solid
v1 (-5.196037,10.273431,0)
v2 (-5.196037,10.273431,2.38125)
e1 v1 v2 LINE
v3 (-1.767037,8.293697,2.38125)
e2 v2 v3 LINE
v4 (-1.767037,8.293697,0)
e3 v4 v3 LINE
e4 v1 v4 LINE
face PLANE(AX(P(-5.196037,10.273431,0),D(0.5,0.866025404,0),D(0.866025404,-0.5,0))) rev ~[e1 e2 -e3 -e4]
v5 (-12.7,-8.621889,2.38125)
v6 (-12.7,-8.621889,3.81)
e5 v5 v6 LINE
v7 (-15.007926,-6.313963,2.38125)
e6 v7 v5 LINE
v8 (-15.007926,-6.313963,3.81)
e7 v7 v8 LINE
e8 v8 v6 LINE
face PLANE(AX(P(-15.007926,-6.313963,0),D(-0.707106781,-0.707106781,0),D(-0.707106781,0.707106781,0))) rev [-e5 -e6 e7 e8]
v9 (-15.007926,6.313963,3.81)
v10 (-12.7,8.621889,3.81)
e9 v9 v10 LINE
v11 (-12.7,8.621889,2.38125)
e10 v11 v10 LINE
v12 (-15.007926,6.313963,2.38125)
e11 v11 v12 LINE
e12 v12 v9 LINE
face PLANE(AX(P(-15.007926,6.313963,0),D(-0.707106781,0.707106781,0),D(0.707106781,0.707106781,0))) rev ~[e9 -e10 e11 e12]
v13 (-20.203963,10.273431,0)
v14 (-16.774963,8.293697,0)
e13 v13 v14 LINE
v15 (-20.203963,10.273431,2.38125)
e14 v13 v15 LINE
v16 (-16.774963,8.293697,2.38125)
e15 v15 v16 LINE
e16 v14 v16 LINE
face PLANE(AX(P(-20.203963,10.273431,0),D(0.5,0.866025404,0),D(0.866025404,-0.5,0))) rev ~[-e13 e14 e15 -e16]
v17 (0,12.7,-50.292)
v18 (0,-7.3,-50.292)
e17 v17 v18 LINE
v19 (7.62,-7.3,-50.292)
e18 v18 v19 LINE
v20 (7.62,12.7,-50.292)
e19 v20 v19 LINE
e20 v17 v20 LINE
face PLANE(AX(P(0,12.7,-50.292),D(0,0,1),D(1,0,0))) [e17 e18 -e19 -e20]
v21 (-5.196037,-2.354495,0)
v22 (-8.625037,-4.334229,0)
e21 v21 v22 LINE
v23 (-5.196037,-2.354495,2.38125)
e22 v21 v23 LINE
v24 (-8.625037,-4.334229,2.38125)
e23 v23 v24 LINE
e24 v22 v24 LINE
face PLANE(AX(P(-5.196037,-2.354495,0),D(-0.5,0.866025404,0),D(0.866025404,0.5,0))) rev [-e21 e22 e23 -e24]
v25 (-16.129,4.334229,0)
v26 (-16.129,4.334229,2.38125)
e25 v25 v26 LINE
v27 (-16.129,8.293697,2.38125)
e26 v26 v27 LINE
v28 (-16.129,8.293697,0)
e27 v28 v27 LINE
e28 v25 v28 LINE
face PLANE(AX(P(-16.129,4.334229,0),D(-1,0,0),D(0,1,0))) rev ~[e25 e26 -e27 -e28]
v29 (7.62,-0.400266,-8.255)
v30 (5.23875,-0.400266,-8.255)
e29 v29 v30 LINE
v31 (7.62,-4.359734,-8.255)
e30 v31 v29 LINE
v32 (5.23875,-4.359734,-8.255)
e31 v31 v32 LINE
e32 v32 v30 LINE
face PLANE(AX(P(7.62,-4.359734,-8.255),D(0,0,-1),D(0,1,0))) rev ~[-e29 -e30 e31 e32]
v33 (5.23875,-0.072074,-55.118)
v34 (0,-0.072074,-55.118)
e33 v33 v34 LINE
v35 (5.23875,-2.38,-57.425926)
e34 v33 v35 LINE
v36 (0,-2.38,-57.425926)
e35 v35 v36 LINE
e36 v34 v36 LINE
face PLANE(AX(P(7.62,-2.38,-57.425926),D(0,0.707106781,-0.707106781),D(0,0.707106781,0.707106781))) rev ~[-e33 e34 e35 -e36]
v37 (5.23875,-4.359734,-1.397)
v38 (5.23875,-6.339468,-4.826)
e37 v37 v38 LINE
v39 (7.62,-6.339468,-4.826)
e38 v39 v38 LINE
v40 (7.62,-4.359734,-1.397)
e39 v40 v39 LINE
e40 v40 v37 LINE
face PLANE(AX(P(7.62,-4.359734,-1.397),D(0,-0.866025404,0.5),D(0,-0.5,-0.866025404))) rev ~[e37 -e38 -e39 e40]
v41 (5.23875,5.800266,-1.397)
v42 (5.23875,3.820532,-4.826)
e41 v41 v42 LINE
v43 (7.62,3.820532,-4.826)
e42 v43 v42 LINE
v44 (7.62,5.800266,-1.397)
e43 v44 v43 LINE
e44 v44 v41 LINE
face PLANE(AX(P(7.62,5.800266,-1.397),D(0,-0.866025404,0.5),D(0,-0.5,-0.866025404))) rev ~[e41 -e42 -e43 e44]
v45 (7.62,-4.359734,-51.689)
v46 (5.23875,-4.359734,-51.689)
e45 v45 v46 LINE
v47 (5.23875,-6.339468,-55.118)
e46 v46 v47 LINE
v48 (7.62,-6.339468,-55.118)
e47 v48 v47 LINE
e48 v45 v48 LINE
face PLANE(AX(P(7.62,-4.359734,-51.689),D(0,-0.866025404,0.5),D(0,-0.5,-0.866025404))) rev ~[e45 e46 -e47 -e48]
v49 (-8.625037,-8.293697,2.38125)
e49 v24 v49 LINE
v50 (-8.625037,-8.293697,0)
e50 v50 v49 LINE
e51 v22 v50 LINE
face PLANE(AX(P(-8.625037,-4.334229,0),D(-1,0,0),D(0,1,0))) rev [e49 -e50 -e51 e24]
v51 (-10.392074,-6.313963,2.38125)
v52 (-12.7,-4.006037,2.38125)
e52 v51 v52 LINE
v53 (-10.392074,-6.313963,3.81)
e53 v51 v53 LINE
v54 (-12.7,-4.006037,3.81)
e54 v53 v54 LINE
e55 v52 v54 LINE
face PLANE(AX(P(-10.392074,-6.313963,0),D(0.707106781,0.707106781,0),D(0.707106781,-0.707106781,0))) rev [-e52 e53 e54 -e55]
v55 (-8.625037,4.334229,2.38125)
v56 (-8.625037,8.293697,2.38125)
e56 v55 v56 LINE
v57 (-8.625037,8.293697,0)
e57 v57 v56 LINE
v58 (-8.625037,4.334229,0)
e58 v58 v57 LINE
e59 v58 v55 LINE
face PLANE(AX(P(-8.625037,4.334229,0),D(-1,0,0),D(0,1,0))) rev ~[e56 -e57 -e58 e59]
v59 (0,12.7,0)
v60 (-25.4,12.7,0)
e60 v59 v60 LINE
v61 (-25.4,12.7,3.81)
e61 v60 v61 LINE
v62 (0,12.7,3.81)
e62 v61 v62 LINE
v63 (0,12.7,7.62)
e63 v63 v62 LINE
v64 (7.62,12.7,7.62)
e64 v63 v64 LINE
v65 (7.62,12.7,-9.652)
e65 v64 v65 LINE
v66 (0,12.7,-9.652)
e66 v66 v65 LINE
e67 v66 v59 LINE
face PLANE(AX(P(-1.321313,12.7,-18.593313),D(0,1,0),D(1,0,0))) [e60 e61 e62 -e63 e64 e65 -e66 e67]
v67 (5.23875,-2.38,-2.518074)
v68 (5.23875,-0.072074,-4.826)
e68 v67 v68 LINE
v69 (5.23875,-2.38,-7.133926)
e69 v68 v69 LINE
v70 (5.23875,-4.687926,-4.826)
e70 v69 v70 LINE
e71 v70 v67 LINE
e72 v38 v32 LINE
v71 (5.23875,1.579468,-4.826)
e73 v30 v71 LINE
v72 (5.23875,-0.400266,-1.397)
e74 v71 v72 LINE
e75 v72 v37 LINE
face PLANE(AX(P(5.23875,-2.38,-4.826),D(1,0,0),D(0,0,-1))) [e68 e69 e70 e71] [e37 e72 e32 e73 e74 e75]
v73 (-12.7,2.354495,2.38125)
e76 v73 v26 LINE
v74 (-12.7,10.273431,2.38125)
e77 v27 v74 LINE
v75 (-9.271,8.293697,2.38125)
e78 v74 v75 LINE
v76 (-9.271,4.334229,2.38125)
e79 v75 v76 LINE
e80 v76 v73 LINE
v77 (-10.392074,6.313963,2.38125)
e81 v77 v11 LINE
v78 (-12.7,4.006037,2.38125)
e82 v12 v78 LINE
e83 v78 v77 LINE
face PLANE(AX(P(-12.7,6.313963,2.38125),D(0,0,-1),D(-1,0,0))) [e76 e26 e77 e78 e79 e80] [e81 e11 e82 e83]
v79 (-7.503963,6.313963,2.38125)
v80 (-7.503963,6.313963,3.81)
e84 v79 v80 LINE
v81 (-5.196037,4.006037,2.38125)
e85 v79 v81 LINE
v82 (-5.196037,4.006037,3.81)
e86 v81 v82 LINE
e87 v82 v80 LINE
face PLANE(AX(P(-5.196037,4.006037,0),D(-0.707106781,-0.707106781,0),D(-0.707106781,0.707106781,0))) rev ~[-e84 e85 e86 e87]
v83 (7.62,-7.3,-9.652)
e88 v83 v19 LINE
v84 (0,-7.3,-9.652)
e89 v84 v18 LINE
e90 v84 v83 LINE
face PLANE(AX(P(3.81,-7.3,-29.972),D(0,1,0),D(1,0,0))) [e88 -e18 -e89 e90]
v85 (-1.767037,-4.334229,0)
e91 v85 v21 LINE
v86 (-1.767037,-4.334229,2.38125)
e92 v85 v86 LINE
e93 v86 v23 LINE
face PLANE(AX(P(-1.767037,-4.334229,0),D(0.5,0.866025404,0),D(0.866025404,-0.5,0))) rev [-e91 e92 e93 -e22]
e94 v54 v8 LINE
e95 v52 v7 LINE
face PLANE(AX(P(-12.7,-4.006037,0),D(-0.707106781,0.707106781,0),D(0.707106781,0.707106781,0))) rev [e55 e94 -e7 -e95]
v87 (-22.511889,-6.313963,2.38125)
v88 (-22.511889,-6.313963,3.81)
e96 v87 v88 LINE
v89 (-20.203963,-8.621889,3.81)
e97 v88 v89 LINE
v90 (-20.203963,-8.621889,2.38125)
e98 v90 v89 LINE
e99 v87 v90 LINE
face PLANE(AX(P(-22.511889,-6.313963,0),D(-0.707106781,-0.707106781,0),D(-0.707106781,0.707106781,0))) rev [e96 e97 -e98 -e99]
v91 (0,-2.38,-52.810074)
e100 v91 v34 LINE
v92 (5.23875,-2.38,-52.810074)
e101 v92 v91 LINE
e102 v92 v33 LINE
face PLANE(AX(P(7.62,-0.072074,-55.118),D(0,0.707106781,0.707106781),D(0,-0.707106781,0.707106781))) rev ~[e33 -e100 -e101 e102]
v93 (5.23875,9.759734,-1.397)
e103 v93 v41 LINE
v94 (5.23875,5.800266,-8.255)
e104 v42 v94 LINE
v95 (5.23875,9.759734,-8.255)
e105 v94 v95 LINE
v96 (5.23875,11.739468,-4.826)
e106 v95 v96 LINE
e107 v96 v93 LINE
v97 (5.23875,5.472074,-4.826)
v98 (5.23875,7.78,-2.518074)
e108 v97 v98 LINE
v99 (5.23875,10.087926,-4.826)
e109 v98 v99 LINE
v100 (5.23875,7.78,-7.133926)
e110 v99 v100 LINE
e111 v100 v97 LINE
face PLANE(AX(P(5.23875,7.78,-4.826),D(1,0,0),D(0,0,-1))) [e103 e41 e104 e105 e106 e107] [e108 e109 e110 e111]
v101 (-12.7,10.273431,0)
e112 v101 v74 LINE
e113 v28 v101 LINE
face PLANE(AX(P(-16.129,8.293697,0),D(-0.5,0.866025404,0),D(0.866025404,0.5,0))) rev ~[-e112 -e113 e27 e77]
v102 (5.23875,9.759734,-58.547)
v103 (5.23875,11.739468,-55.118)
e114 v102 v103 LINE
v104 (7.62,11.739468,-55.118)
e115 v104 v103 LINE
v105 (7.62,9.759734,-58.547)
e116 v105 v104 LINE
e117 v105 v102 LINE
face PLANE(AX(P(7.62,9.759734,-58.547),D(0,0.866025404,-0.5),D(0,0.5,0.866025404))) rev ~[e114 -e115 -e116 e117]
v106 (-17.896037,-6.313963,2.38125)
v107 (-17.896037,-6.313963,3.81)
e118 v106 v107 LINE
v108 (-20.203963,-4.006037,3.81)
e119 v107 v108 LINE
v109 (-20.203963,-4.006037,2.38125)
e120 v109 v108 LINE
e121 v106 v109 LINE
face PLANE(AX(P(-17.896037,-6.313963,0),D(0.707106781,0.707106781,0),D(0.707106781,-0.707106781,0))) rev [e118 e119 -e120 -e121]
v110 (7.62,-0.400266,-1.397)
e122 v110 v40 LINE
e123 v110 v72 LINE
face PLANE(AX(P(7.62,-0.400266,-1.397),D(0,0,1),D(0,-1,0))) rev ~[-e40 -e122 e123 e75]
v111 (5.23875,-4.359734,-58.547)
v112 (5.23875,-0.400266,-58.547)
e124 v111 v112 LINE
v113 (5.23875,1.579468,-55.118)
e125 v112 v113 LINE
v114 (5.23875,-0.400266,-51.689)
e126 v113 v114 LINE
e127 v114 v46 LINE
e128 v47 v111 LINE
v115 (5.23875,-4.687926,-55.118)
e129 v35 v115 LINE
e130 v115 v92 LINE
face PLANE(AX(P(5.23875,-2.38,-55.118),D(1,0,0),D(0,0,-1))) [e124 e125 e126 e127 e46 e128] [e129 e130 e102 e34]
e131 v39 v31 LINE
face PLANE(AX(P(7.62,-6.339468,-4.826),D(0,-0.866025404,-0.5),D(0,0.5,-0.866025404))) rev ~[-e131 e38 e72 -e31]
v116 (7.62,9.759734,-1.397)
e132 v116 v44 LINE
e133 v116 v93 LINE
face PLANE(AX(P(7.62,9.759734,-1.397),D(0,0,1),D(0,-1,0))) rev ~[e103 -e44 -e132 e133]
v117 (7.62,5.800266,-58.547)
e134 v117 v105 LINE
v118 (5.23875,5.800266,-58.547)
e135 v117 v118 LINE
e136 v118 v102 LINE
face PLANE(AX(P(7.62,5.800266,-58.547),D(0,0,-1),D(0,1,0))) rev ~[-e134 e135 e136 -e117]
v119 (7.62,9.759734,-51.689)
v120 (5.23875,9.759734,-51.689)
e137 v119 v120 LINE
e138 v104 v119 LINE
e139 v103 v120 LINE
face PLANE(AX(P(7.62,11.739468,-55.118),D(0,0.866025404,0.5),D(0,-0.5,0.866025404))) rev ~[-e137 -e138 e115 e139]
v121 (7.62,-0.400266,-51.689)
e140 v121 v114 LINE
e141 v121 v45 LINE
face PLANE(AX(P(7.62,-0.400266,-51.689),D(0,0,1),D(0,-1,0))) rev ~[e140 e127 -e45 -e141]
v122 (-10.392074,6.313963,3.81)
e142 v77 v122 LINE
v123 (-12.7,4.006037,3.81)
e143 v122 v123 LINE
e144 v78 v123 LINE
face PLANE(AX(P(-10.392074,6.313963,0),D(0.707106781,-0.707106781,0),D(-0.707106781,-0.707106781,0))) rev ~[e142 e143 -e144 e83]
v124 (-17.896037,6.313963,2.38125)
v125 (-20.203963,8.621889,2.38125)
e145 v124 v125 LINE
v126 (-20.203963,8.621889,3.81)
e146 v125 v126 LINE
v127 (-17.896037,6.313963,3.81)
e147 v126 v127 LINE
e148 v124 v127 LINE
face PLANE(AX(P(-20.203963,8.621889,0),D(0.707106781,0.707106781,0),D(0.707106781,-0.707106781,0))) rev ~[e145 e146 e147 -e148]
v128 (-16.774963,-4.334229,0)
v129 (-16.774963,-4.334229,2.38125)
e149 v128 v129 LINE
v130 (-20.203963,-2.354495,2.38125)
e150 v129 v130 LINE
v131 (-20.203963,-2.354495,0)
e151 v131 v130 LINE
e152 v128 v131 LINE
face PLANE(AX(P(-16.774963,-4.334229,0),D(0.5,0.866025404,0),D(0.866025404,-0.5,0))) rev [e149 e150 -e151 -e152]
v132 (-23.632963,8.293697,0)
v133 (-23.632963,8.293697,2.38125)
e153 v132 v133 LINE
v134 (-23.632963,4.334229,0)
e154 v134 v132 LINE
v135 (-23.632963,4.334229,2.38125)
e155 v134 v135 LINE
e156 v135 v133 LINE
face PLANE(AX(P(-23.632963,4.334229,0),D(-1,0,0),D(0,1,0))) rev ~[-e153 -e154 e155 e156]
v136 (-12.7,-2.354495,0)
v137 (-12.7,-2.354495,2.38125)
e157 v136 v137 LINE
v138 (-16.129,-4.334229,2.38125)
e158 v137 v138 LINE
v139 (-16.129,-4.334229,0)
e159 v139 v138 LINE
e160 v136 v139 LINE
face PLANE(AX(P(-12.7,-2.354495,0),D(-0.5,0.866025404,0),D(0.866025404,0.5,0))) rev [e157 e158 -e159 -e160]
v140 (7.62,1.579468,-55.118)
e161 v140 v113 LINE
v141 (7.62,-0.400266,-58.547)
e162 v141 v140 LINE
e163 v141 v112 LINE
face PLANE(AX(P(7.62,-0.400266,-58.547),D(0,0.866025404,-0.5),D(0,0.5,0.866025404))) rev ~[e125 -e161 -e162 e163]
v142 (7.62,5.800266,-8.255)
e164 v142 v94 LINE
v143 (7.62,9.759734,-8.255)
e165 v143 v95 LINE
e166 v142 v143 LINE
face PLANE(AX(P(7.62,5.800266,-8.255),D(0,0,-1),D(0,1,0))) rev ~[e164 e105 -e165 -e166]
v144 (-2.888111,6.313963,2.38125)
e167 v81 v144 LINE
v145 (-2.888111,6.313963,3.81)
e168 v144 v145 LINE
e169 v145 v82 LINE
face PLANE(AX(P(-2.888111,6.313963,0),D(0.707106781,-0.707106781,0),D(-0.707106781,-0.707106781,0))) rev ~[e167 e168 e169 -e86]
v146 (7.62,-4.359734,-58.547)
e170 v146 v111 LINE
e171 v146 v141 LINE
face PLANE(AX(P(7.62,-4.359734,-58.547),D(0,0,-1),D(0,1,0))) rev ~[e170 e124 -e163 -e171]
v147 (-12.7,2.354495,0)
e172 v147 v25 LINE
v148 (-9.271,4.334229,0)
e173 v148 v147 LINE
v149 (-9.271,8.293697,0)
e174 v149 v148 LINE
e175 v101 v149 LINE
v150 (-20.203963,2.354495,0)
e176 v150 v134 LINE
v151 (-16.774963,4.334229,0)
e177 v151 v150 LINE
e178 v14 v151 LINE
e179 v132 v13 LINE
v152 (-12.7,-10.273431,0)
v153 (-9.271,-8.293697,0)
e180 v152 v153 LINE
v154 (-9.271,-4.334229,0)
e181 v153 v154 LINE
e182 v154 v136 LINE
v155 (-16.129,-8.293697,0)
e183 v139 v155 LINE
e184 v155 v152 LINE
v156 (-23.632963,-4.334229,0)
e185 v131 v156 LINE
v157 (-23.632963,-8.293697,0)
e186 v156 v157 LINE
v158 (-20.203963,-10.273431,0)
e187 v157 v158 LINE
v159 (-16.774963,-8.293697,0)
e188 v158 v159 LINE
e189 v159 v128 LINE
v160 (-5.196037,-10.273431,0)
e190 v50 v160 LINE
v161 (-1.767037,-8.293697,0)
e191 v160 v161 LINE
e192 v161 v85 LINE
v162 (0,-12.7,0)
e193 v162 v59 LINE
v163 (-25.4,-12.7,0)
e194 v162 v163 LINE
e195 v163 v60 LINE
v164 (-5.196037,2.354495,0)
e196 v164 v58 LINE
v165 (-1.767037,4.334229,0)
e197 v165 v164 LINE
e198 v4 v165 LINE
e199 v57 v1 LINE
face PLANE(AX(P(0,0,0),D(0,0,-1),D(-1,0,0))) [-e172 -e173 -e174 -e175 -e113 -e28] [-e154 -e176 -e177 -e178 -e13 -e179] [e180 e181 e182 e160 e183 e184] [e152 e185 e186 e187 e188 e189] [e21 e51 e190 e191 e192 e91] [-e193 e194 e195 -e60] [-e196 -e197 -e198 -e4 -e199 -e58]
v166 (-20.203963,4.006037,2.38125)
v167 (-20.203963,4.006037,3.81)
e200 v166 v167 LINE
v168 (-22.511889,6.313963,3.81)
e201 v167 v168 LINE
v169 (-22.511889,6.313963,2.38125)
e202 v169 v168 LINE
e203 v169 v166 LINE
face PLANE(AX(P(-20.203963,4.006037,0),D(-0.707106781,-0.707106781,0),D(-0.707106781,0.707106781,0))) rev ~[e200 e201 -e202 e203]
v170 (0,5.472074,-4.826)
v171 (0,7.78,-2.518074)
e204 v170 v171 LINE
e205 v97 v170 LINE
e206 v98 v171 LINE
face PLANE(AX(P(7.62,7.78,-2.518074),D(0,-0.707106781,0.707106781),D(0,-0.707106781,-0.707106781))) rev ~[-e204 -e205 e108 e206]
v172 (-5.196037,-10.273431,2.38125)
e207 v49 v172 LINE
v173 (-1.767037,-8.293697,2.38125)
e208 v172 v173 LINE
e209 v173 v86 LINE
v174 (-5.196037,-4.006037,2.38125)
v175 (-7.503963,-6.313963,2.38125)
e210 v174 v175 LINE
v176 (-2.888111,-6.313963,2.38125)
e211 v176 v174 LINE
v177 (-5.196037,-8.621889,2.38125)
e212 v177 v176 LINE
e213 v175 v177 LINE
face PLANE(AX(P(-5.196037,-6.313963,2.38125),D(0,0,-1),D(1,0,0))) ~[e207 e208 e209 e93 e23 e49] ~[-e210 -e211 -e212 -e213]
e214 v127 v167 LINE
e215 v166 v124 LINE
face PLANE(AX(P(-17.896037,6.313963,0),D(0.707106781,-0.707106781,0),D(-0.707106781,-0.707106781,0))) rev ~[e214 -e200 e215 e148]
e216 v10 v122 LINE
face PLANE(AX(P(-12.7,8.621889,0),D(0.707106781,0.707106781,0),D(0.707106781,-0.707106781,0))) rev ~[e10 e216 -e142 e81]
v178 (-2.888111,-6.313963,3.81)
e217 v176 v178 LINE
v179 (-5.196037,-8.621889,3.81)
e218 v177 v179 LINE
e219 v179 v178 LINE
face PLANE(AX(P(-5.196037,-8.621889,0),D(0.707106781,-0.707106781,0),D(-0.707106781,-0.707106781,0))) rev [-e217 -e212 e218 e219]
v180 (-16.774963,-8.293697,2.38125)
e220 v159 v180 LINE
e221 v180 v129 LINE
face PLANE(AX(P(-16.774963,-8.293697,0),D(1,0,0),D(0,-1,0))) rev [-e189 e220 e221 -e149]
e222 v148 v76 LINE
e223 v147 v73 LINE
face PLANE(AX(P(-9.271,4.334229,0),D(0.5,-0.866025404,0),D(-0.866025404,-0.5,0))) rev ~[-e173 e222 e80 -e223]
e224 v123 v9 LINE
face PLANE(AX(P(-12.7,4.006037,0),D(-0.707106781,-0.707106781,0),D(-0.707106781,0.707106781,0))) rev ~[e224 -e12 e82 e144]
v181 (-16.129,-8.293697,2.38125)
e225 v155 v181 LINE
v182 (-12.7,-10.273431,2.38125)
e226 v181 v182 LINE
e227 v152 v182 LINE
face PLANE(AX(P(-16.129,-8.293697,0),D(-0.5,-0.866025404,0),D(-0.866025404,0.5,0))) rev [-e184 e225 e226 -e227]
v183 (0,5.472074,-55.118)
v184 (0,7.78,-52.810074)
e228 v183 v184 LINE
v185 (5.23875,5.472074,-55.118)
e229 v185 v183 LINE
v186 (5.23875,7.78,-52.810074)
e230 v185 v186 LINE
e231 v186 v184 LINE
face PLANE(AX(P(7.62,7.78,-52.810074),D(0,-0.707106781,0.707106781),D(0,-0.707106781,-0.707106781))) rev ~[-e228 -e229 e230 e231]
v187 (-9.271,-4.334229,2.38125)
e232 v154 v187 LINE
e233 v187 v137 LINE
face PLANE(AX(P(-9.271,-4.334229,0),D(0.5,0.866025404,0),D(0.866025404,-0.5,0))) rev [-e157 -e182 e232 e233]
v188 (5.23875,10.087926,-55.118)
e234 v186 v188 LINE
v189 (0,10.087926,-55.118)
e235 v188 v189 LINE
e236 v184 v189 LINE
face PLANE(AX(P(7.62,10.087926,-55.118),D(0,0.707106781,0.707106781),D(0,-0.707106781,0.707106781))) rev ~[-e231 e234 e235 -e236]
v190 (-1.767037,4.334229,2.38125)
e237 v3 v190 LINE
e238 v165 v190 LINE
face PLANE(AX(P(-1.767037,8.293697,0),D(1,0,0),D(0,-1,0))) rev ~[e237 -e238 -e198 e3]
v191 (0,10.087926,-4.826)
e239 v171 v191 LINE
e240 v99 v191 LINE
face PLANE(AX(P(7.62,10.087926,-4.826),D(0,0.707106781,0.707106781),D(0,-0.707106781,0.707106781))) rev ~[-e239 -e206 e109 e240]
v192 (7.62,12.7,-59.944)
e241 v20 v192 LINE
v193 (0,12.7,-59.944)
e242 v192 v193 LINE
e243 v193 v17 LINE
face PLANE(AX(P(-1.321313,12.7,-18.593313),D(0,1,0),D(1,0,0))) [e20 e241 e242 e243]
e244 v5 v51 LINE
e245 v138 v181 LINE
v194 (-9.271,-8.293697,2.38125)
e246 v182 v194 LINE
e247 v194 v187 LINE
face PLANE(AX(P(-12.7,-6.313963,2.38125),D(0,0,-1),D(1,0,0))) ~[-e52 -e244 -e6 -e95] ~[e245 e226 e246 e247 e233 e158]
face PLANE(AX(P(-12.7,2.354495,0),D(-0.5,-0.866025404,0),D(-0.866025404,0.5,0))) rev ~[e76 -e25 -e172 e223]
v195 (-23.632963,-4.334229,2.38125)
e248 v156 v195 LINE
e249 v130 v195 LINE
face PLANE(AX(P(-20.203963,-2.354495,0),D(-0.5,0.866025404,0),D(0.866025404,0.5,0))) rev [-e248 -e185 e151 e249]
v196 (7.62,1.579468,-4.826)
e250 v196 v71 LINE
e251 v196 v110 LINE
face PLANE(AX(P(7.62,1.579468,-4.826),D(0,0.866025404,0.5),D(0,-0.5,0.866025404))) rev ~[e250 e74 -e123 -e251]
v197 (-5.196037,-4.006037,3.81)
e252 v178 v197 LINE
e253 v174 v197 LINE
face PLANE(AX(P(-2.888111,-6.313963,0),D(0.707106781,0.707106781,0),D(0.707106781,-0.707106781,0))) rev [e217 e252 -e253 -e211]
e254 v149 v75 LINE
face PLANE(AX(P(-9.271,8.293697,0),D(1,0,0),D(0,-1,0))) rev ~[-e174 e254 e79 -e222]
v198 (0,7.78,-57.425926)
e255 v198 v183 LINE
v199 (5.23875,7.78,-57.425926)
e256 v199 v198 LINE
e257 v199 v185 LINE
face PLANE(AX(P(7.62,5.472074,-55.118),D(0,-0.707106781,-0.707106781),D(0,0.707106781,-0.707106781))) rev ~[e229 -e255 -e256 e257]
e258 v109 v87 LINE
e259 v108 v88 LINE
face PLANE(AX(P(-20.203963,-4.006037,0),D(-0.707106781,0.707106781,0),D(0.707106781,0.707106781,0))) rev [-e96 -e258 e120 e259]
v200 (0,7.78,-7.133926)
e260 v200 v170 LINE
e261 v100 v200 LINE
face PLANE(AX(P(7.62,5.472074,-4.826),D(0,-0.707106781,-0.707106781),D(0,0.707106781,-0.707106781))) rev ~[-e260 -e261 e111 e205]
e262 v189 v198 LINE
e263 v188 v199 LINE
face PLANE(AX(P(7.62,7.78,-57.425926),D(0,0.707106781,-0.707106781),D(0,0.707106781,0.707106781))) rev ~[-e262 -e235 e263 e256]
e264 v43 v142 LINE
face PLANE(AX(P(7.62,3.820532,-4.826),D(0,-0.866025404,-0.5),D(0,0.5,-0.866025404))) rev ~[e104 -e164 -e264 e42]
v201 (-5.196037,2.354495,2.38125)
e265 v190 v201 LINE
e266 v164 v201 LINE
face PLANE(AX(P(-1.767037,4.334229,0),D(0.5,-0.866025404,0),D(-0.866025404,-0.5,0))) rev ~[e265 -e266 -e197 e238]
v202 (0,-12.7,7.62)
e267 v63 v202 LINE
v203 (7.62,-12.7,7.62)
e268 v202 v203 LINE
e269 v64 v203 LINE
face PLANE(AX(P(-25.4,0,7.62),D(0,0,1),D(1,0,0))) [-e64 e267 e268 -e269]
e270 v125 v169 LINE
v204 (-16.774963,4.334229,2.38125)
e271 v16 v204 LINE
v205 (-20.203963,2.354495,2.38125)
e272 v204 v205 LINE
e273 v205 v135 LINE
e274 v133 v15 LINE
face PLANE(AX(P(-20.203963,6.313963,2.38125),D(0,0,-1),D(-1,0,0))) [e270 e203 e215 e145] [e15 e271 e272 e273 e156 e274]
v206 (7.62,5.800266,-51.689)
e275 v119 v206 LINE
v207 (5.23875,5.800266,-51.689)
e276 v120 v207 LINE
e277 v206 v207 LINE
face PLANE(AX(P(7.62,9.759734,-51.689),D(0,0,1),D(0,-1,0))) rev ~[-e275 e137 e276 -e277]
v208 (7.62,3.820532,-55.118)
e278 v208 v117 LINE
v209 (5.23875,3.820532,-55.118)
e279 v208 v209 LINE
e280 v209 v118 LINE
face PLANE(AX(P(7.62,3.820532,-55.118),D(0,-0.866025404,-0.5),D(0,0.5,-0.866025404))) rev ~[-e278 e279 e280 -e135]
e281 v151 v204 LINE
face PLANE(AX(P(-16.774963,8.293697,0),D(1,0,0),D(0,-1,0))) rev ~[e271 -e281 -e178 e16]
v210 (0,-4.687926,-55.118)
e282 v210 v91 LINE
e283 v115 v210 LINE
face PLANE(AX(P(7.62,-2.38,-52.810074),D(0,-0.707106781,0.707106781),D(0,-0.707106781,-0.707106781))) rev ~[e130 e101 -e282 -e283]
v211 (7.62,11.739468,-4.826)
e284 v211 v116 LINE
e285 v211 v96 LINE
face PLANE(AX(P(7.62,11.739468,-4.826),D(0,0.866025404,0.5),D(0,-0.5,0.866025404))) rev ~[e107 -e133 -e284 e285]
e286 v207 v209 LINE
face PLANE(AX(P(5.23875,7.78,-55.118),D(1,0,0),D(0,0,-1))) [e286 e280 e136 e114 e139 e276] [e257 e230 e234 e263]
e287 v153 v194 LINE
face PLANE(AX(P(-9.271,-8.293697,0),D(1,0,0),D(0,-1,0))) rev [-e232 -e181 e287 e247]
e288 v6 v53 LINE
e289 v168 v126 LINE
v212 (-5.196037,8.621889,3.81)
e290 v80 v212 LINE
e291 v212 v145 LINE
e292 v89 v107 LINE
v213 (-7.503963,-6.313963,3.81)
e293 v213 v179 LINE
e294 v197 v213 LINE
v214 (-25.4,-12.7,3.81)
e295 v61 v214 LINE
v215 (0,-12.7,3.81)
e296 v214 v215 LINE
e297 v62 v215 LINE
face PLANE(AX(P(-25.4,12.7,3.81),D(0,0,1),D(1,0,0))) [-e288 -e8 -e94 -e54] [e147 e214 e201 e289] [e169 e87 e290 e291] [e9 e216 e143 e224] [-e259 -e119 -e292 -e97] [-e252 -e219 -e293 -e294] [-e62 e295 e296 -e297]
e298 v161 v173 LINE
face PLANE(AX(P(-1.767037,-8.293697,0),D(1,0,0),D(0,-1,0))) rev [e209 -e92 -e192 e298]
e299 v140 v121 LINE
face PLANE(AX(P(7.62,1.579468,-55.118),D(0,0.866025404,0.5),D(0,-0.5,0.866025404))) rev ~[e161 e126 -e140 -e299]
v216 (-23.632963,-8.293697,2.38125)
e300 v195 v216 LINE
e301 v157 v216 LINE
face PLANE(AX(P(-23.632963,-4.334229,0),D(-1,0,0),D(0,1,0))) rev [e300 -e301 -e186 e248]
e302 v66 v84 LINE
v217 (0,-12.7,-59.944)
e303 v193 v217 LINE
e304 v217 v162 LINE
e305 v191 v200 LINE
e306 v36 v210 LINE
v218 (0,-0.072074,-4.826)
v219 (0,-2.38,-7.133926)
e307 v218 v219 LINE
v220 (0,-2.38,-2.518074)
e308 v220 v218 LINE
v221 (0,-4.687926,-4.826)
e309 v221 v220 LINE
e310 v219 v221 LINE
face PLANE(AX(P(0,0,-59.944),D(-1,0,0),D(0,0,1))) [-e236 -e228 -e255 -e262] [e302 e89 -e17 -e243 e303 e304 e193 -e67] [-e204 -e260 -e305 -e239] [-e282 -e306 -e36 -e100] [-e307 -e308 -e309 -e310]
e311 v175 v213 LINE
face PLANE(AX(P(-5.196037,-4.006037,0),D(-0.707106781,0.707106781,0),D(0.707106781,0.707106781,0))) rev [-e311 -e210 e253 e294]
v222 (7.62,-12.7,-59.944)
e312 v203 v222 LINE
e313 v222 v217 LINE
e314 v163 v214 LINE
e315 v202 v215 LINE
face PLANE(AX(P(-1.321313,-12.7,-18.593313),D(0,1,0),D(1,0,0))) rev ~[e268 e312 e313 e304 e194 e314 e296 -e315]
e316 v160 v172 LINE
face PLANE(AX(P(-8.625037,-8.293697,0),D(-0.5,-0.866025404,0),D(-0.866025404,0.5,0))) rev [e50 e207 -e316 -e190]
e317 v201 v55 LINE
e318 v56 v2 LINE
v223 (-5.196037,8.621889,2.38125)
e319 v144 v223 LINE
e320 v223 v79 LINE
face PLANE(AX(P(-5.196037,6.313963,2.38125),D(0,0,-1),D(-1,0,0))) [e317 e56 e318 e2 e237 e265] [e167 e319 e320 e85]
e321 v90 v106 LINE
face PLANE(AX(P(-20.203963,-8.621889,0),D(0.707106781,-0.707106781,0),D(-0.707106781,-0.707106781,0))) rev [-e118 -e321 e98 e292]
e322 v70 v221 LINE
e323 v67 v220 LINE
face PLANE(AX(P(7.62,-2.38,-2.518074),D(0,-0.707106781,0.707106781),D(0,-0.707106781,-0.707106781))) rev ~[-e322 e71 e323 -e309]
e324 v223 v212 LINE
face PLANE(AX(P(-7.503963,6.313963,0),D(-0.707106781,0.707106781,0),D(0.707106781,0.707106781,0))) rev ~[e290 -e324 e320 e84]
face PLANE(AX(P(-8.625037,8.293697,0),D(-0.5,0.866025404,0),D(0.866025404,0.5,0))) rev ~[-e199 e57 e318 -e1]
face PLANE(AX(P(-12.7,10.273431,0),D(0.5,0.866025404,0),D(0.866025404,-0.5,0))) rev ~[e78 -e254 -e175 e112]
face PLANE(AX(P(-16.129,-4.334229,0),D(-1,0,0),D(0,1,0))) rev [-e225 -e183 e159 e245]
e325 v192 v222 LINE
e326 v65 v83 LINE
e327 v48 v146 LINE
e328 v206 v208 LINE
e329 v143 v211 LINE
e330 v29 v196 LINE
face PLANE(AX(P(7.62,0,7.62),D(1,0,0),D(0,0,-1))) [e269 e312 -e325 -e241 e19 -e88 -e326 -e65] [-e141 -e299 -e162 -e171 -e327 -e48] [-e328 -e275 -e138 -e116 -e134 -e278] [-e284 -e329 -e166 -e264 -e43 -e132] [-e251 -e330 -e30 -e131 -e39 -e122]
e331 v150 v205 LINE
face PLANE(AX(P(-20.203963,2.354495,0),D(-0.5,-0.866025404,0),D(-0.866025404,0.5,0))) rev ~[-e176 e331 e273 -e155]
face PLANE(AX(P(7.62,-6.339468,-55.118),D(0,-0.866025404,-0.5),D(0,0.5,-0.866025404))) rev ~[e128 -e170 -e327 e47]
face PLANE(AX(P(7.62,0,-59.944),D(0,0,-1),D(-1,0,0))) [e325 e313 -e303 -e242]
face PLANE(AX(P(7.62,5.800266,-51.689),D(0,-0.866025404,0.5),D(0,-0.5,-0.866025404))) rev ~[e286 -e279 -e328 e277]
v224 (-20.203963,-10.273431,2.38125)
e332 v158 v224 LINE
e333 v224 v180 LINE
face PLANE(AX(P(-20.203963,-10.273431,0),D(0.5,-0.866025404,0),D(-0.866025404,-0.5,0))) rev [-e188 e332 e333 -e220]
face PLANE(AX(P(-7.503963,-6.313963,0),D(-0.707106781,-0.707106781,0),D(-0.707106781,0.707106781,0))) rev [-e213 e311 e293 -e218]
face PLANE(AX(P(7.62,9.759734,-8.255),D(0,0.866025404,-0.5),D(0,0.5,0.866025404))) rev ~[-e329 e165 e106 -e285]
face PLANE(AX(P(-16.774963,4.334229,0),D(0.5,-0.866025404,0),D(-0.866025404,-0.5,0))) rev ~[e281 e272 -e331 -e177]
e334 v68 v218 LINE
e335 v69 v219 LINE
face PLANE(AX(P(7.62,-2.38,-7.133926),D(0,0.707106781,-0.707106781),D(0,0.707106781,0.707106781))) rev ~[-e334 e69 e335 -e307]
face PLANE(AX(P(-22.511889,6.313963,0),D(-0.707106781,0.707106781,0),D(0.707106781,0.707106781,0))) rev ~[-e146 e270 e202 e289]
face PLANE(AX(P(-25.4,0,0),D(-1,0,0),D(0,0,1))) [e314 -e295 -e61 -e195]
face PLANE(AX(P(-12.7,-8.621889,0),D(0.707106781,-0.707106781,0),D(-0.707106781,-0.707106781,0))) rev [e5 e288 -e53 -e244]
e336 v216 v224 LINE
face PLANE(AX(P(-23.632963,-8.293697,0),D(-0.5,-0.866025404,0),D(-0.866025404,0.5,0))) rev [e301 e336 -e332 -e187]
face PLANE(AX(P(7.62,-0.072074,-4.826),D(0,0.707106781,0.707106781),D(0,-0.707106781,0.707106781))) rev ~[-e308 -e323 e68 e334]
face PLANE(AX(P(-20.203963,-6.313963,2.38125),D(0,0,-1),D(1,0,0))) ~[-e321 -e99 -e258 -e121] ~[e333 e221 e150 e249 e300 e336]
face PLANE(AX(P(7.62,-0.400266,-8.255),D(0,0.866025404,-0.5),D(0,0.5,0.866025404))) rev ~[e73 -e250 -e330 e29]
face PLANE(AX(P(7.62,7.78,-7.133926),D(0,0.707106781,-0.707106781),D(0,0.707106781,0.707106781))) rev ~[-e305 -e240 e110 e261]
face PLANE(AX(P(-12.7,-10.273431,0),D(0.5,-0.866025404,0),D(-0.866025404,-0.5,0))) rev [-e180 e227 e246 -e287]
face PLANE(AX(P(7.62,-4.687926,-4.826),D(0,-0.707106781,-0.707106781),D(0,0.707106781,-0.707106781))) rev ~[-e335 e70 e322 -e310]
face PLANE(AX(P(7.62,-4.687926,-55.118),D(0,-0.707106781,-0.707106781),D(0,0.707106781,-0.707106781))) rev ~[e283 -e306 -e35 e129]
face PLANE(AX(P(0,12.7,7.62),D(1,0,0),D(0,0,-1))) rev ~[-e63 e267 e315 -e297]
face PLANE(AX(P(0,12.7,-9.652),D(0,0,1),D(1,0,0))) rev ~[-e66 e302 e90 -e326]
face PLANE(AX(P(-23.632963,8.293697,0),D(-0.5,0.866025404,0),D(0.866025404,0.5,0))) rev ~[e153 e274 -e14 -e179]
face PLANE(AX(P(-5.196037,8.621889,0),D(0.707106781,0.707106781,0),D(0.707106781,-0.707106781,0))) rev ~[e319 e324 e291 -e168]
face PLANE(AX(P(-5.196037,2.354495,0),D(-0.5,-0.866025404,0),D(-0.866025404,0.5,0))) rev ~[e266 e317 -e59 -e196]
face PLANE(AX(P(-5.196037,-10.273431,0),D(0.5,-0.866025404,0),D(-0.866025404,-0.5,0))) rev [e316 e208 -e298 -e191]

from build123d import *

# Parameters (mm, degrees)
BOSS_EXTRUDE1_DEPTH = 12.7
SKETCH2_W           = 7.62
SKETCH2_H           = 40.64
CUT_EXTRUDE1_DEPTH  = 20
CUT_EXTRUDE2_DEPTH  = 34.02
CUT_EXTRUDE6_DEPTH  = 2.38125
CUT_EXTRUDE5_DEPTH  = 8.62
CUT_EXTRUDE7_DEPTH  = 2.38125
SKETCH14_W          = 25.4
SKETCH14_H          = 3.81
CUT_EXTRUDE8_DEPTH  = 26.4


with BuildPart() as part:
    # Sketch1 → Boss-Extrude1 (new body, symmetric)
    with BuildSketch(Plane(origin=(0, 0, 0), x_dir=(1, 0, 0), z_dir=(0, 1, 0))):
        Polygon((0, 59.944), (0, 0), (-25.4, 0), (-25.4, -7.62), (7.62, -7.62), (7.62, 59.944), align=None)
    extrude(amount=BOSS_EXTRUDE1_DEPTH, both=True)

    # Sketch2 → Cut-Extrude1 (cut)
    with BuildSketch(Plane(origin=(0, 12.7, 0), x_dir=(1, 0, 0), z_dir=(0, 1, 0))):
        with Locations((3.81, 29.972)):
            Rectangle(SKETCH2_W, SKETCH2_H)
    extrude(amount=-CUT_EXTRUDE1_DEPTH, mode=Mode.SUBTRACT)

    # Sketch3 → Cut-Extrude2 (cut, through all)
    with BuildSketch(Plane(origin=(7.62, 0, 0), x_dir=(0, 0, -1), z_dir=(1, 0, 0))):
        Polygon((55.118, 10.087925823), (52.810074177, 7.78), (55.118, 5.472074177), (57.425925823, 7.78), align=None)
        Polygon((2.518074177, 7.78), (4.826, 5.472074177), (7.133925823, 7.78), (4.826, 10.087925823), align=None)
        Polygon((57.425925823, -2.38), (55.118, -0.072074177), (52.810074177, -2.38), (55.118, -4.687925823), align=None)
        Polygon((4.826, -4.687925823), (7.133925823, -2.38), (4.826, -0.072074177), (2.518074177, -2.38), align=None)
    extrude(amount=-CUT_EXTRUDE2_DEPTH, mode=Mode.SUBTRACT)

    # Sketch12 → Cut-Extrude6 (cut)
    with BuildSketch(Plane(origin=(7.62, 0, 0), x_dir=(0, 0, -1), z_dir=(1, 0, 0))):
        Polygon((8.255, 9.759734073), (4.826, 11.739468146), (1.397, 9.759734073), (1.397, 5.800265927), (4.826, 3.820531854), (8.255, 5.800265927), align=None)
        Polygon((4.826, 1.579468146), (1.397, -0.400265927), (1.397, -4.359734073), (4.826, -6.339468146), (8.255, -4.359734073), (8.255, -0.400265927), align=None)
        Polygon((55.118, 1.579468146), (51.689, -0.400265927), (51.689, -4.359734073), (55.118, -6.339468146), (58.547, -4.359734073), (58.547, -0.400265927), align=None)
        Polygon((55.118, 11.739468146), (51.689, 9.759734073), (51.689, 5.800265927), (55.118, 3.820531854), (58.547, 5.800265927), (58.547, 9.759734073), align=None)
    extrude(amount=-CUT_EXTRUDE6_DEPTH, mode=Mode.SUBTRACT)

    # Sketch9 → Cut-Extrude5 (cut, through all)
    with BuildSketch(Plane(origin=(0, 0, 0), x_dir=(-1, 0, 0), z_dir=(0, 0, -1))):
        Polygon((5.196037088, 4.006037088), (7.503962912, 6.313962912), (5.196037088, 8.621888735), (2.888111265, 6.313962912), align=None)
        Polygon((20.203962912, 4.006037088), (22.511888735, 6.313962912), (20.203962912, 8.621888735), (17.896037088, 6.313962912), align=None)
        Polygon((12.7, 4.006037088), (15.007925823, 6.313962912), (12.7, 8.621888735), (10.392074177, 6.313962912), align=None)
    cut_extrude5 = extrude(amount=-CUT_EXTRUDE5_DEPTH, mode=Mode.SUBTRACT)

    # Sketch13 → Cut-Extrude7 (cut)
    with BuildSketch(Plane(origin=(0, 0, 0), x_dir=(-1, 0, 0), z_dir=(0, 0, -1))):
        Polygon((8.625037088, 4.334228839), (8.625037088, 8.293696985), (5.196037088, 10.273431058), (1.767037088, 8.293696985), (1.767037088, 4.334228839), (5.196037088, 2.354494765), align=None)
        Polygon((12.7, 2.354494765), (16.129, 4.334228839), (16.129, 8.293696985), (12.7, 10.273431058), (9.271, 8.293696985), (9.271, 4.334228839), align=None)
        Polygon((20.203962912, 2.354494765), (23.632962912, 4.334228839), (23.632962912, 8.293696985), (20.203962912, 10.273431058), (16.774962912, 8.293696985), (16.774962912, 4.334228839), align=None)
    cut_extrude7 = extrude(amount=-CUT_EXTRUDE7_DEPTH, mode=Mode.SUBTRACT)

    # Mirror2: Cut-Extrude5, Cut-Extrude7 across plane
    add(cut_extrude5.mirror(Plane.ZX), mode=Mode.SUBTRACT)
    add(cut_extrude7.mirror(Plane.ZX), mode=Mode.SUBTRACT)

    # Sketch14 → Cut-Extrude8 (cut, through all)
    with BuildSketch(Plane(origin=(0, 12.7, 0), x_dir=(1, 0, 0), z_dir=(0, 1, 0))):
        with Locations((-12.7, -5.715)):
            Rectangle(SKETCH14_W, SKETCH14_H)
    extrude(amount=-CUT_EXTRUDE8_DEPTH, mode=Mode.SUBTRACT)


solid = part.part
